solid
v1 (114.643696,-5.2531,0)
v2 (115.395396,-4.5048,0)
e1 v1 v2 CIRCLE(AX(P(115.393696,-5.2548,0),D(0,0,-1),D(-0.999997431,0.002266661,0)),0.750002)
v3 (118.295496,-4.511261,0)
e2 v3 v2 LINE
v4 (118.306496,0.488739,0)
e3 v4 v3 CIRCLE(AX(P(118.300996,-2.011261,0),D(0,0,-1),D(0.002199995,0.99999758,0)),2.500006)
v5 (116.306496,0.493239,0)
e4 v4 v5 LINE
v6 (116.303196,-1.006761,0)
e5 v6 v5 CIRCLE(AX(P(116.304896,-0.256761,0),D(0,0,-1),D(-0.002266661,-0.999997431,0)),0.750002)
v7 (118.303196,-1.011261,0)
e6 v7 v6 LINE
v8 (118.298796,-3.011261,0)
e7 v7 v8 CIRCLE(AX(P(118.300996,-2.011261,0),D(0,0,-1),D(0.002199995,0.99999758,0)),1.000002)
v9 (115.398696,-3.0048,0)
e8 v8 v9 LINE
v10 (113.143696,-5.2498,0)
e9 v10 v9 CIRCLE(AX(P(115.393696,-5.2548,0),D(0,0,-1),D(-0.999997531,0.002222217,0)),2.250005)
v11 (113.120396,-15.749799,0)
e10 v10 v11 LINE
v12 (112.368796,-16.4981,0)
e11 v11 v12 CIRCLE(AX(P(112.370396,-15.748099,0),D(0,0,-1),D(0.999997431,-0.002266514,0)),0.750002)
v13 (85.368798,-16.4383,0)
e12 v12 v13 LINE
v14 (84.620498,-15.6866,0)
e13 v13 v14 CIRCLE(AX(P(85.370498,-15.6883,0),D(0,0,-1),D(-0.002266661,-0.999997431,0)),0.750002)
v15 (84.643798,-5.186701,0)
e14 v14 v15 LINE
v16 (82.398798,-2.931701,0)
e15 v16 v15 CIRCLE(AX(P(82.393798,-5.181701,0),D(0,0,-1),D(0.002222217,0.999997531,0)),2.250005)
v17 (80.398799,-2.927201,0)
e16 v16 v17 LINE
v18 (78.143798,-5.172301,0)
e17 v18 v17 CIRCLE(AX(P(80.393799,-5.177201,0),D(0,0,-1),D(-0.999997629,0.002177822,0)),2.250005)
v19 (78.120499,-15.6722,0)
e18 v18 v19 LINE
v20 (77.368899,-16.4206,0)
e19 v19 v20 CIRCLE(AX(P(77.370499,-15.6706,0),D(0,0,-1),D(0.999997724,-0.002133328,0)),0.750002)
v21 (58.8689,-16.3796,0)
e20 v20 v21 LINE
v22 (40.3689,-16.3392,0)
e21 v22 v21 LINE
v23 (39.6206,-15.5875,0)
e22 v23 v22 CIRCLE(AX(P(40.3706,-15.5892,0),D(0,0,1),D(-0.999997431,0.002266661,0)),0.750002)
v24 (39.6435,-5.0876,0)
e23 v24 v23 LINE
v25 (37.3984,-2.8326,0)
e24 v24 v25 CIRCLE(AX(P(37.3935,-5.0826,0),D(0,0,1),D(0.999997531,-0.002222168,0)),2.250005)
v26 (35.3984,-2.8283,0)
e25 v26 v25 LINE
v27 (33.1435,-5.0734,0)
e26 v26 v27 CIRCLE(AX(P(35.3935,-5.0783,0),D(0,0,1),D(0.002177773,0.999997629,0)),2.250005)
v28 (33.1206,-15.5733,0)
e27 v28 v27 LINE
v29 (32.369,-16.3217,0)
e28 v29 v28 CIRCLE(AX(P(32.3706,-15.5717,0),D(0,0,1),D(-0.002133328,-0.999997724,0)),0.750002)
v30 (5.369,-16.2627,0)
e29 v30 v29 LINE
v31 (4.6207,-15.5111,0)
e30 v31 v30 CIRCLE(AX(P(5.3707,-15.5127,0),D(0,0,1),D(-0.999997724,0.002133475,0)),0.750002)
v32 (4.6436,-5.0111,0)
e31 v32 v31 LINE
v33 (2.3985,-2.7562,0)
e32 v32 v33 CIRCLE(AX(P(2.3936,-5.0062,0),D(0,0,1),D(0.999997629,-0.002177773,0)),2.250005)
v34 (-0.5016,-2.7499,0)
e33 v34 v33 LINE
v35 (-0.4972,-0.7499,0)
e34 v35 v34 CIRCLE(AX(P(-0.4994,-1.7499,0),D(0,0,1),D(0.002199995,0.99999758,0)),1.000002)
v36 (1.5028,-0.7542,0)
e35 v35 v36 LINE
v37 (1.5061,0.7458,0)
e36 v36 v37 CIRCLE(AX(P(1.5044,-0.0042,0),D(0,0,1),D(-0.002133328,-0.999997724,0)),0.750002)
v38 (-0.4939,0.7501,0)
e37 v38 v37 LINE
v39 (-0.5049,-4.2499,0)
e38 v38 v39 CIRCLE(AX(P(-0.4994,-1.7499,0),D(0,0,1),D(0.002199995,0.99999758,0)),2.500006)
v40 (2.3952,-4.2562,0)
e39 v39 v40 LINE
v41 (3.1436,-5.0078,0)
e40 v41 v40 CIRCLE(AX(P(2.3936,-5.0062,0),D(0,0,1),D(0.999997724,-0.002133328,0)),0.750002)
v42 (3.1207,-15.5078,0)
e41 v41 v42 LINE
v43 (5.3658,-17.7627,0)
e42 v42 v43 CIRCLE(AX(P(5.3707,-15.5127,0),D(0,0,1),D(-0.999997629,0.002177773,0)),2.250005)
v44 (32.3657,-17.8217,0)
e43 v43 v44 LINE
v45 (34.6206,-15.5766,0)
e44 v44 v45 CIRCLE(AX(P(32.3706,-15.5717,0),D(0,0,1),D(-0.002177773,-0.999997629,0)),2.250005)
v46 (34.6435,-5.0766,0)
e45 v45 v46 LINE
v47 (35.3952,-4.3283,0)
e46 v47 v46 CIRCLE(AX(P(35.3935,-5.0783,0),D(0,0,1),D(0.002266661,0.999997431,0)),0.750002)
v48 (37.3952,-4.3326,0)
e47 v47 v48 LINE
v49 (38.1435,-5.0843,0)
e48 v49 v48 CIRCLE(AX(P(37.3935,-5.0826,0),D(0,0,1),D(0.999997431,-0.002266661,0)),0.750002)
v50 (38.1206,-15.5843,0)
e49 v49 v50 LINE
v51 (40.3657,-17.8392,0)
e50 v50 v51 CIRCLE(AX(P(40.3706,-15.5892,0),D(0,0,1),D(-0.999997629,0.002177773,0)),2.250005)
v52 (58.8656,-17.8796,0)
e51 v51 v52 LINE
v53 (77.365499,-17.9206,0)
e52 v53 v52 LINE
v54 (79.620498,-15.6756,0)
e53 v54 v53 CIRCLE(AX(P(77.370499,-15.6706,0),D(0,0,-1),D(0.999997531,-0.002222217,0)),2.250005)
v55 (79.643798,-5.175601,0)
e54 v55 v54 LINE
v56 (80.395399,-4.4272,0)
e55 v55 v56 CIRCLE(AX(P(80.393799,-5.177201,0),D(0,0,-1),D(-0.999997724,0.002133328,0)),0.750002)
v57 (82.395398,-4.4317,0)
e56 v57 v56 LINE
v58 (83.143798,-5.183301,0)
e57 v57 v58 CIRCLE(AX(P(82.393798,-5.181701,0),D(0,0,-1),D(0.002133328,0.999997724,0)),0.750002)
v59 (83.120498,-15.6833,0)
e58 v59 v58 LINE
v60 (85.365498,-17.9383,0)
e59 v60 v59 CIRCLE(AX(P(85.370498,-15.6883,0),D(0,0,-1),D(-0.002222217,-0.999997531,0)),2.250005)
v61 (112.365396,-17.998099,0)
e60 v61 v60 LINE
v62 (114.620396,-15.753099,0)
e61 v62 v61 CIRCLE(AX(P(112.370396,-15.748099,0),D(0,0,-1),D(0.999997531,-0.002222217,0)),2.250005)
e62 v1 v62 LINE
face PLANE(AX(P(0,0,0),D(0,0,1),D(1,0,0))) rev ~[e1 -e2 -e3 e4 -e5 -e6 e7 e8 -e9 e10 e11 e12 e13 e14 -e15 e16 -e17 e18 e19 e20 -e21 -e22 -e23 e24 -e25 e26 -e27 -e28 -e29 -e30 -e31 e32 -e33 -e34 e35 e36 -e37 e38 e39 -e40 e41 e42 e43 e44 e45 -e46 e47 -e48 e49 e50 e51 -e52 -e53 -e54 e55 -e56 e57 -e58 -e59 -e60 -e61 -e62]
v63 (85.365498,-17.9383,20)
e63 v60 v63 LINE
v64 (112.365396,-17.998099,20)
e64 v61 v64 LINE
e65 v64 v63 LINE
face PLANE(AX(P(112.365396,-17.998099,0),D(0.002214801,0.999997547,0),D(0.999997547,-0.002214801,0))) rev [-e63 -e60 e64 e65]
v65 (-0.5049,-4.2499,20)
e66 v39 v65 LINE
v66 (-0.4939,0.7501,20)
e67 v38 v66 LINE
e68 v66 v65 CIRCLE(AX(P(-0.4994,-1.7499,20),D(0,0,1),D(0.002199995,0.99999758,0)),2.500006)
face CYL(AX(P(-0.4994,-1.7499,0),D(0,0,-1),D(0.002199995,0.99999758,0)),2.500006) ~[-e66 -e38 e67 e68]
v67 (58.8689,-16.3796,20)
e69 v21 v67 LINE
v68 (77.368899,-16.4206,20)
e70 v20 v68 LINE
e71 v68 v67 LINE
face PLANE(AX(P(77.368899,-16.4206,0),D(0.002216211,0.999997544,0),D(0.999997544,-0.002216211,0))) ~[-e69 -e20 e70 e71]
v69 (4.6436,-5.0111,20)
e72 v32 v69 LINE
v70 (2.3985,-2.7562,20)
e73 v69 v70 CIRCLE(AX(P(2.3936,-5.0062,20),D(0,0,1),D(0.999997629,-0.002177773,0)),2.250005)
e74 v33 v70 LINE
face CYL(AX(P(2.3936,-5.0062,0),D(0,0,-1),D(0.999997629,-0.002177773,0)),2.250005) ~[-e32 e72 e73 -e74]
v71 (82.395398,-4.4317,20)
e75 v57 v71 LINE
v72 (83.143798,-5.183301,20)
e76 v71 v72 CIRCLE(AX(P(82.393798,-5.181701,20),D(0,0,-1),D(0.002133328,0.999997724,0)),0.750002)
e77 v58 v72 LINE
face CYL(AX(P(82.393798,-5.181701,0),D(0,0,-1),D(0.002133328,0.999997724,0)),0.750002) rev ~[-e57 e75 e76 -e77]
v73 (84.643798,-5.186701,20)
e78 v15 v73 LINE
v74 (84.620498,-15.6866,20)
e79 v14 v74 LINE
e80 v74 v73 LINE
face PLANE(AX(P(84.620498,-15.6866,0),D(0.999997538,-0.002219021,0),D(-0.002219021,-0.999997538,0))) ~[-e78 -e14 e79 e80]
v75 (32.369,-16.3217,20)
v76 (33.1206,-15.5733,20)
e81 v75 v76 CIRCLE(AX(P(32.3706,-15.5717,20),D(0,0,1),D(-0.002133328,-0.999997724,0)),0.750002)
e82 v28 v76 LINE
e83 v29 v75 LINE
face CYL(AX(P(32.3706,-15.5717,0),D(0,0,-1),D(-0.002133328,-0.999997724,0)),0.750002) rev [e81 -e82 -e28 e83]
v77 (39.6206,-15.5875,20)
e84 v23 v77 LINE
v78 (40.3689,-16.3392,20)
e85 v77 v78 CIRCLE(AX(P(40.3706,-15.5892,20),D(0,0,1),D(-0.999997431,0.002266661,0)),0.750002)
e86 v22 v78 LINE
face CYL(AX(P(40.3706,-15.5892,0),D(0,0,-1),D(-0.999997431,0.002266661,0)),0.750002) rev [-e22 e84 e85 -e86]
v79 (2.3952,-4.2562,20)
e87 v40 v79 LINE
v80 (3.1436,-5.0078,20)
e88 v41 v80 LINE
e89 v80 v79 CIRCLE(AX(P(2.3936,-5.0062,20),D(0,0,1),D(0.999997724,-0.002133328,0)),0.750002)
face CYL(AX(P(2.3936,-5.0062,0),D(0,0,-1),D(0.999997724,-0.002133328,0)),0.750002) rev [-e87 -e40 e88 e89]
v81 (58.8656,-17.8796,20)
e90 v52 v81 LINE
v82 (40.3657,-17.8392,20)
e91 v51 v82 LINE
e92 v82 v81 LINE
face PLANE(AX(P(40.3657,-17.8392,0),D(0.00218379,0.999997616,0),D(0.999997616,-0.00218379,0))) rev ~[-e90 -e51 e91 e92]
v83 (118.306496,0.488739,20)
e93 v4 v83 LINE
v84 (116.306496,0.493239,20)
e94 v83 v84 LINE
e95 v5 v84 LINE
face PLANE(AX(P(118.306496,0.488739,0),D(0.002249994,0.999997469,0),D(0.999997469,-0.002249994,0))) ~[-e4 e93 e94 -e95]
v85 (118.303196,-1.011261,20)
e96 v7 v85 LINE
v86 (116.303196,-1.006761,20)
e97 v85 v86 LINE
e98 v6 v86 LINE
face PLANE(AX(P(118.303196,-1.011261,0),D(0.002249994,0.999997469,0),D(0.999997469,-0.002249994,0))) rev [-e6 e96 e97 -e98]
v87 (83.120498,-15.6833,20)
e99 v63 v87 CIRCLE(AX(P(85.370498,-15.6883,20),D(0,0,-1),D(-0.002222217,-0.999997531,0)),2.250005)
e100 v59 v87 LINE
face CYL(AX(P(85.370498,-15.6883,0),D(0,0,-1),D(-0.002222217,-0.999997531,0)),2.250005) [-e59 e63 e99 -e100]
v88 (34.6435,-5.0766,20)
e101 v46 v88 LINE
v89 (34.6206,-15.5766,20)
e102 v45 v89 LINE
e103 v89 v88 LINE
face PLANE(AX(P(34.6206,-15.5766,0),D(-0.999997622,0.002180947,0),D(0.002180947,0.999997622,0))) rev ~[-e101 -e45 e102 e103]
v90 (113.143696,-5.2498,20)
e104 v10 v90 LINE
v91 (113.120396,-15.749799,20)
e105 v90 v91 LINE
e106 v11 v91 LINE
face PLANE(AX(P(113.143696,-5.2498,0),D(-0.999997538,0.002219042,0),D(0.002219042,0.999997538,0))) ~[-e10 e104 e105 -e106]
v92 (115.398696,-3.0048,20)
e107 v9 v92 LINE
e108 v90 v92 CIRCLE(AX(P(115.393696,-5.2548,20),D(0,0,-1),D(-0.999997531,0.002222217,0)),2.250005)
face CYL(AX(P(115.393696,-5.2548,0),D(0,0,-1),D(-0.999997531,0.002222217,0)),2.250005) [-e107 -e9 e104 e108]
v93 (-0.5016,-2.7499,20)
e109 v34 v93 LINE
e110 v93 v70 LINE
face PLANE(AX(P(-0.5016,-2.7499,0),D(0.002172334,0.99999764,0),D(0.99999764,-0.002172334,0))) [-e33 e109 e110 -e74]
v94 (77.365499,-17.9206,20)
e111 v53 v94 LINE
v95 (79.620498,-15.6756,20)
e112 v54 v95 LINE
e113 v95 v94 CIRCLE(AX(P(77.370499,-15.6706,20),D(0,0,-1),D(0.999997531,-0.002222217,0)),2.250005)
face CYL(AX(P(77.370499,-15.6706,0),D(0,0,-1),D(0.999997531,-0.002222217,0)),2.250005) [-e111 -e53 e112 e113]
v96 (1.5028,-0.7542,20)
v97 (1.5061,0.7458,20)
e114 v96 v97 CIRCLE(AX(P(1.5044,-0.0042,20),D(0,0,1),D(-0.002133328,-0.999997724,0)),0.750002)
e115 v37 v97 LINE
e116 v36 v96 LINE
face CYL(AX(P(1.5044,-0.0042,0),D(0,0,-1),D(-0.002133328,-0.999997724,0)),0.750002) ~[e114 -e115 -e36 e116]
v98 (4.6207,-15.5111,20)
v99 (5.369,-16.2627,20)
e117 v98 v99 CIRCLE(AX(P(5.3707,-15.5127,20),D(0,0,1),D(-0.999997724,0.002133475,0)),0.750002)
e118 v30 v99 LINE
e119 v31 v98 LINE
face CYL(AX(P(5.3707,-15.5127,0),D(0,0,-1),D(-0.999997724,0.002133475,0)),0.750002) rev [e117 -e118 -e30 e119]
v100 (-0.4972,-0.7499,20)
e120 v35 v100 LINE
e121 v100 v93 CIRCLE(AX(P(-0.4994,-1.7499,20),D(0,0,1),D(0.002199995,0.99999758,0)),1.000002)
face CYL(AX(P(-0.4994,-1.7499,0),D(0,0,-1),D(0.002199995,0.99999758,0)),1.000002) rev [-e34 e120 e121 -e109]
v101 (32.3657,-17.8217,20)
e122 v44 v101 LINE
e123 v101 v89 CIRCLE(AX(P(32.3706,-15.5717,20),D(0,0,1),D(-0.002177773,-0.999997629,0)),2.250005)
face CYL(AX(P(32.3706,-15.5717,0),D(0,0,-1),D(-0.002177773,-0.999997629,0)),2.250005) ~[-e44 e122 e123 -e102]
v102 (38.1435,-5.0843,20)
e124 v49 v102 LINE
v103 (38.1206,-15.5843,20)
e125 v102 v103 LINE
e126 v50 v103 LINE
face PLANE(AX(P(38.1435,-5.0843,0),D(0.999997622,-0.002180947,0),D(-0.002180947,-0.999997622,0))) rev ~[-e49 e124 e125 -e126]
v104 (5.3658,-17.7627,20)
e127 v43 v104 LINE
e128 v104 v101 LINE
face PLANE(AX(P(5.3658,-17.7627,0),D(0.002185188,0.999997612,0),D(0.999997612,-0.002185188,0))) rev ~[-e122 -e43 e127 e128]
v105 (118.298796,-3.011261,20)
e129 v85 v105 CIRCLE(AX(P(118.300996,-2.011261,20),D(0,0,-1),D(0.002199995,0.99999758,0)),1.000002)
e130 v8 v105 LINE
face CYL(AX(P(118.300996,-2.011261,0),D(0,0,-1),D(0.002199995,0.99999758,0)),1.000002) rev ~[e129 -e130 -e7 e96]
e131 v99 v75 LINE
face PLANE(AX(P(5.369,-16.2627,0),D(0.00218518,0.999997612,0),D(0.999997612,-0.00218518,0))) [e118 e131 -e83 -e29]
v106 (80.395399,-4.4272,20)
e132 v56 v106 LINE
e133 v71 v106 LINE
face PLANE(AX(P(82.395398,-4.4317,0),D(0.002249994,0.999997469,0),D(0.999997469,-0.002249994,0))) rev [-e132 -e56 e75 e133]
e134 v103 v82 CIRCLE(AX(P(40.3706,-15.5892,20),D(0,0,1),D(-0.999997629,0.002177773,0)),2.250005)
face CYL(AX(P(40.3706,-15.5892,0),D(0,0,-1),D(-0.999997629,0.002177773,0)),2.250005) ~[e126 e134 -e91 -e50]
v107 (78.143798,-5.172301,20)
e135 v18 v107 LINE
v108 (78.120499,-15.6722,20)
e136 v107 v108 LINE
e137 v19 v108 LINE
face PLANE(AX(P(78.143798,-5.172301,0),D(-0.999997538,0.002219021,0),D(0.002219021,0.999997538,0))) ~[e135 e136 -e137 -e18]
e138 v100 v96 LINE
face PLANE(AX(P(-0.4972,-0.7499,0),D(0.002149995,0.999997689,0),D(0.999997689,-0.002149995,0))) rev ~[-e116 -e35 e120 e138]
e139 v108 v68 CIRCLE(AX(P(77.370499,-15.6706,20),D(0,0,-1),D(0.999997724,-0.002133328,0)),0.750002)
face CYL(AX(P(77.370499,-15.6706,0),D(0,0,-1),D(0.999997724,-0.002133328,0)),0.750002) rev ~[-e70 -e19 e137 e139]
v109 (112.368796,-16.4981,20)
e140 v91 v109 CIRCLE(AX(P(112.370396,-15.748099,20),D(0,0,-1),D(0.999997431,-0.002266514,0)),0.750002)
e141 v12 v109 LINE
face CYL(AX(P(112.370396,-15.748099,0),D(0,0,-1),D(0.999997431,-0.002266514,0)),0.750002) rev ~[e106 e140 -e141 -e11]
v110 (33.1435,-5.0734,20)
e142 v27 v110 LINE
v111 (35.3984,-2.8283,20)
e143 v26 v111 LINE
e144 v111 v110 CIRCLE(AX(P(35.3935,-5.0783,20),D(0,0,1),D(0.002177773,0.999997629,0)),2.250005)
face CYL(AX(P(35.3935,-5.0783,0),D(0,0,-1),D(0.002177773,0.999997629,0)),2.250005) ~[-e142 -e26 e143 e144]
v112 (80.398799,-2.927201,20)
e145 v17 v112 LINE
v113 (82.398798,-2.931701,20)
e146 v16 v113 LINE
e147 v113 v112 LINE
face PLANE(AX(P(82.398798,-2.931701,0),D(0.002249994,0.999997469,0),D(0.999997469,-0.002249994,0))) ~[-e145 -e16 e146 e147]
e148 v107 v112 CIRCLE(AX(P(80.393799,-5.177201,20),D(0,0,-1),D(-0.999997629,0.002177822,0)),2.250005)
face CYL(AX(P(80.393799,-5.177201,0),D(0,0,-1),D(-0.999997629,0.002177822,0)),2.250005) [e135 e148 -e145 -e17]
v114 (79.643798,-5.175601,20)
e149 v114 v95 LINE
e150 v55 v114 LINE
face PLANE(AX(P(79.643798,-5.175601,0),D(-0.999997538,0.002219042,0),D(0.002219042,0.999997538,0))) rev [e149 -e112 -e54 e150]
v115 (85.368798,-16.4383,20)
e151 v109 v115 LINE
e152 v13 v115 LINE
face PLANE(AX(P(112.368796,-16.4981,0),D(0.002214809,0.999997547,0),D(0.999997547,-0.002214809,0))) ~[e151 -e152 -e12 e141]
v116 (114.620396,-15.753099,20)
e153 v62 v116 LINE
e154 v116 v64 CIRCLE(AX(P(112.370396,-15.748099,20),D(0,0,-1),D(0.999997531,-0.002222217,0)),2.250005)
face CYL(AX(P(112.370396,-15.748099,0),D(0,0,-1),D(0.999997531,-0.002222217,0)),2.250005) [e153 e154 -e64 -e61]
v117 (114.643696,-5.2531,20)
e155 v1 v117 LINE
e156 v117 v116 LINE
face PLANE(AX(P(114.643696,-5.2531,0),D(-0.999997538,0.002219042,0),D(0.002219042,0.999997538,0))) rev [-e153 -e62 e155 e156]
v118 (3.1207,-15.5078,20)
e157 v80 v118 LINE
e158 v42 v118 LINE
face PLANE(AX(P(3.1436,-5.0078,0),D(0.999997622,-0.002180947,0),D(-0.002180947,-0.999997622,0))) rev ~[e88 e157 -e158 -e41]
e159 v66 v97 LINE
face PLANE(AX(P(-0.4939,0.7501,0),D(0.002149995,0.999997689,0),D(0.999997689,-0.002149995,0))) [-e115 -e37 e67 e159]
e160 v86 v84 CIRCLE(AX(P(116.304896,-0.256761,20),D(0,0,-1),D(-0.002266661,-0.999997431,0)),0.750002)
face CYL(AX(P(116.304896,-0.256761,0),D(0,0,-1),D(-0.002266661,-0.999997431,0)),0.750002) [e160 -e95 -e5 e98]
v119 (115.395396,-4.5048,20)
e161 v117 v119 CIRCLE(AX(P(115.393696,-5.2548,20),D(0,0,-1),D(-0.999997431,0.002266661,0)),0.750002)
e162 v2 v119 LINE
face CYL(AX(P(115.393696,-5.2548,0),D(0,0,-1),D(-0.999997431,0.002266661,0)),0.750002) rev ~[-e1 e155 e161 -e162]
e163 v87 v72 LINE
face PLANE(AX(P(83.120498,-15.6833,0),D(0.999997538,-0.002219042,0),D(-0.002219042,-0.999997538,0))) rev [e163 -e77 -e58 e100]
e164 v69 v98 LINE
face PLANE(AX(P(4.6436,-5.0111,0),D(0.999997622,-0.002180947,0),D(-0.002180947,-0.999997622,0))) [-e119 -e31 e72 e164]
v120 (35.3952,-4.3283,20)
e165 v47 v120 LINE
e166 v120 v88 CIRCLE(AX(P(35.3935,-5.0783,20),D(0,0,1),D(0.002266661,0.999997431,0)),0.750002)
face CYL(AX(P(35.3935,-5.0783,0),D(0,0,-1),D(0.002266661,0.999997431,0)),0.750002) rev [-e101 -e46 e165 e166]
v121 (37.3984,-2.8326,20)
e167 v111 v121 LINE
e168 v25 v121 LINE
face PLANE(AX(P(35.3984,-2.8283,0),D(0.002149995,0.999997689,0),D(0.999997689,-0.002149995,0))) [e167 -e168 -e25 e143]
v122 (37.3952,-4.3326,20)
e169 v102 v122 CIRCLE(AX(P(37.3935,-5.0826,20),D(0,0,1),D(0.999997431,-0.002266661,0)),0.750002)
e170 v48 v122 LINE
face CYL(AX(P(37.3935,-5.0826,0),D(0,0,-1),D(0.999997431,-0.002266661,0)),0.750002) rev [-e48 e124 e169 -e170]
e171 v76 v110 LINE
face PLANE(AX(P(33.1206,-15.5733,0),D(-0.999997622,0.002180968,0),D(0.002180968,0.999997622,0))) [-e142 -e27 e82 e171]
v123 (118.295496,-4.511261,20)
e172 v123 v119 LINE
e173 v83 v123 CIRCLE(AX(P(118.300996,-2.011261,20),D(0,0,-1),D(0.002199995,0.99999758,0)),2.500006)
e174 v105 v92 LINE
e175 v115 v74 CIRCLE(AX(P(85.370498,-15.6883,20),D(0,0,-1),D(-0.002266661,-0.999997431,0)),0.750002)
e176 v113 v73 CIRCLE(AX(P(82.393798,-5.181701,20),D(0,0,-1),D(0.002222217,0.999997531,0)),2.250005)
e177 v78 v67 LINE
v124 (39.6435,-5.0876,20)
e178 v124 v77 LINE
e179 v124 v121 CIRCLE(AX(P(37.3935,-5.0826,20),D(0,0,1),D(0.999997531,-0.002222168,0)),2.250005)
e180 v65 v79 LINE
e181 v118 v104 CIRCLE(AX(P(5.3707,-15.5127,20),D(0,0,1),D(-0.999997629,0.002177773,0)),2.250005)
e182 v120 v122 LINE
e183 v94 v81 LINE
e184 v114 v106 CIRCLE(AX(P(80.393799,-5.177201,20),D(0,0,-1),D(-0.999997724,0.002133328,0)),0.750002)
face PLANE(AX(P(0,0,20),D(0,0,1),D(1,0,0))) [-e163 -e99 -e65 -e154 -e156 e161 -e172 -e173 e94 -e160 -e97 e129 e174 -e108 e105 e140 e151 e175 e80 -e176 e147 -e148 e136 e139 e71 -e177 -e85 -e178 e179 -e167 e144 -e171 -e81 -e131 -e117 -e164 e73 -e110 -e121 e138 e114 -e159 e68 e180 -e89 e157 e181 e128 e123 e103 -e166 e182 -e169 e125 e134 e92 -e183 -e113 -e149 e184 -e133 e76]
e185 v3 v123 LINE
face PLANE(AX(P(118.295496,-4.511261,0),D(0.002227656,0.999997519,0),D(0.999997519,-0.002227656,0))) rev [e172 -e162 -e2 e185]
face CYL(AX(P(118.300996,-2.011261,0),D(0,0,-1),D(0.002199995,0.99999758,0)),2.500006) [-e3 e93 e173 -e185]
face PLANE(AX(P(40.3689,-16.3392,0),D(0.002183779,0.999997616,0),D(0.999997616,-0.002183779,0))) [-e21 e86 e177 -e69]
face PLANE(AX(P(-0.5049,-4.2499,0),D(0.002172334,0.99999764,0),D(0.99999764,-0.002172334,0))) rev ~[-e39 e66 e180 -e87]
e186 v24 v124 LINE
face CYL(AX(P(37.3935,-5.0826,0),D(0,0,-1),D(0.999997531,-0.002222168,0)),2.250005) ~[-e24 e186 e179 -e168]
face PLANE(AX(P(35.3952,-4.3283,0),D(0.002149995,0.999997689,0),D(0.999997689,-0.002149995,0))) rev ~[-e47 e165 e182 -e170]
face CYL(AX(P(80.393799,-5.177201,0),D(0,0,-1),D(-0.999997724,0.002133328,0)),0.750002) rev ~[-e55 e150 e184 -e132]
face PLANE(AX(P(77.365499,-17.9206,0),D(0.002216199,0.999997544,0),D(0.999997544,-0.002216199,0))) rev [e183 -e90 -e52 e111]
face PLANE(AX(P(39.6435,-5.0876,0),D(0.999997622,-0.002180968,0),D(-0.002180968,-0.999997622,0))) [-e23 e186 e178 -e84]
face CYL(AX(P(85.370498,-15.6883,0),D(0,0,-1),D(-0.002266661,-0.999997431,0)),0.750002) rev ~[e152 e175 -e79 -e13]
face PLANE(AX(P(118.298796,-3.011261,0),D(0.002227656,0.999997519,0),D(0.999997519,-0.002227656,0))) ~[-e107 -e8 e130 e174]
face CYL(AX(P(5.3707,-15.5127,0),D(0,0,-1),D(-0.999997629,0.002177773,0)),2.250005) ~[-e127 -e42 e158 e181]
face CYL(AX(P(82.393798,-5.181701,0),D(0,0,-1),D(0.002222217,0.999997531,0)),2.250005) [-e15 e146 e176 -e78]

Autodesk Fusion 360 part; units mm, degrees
sketch "Sketch1" plane through (0, 0, 0) normal (0, 0, 1) x (1, 0, 0)
  line L0 (-0.5032, -3.4999) -> (2.3969, -3.5062) construction
  line L1 (3.8936, -5.0095) -> (3.8707, -15.5094) construction
  line L2 (5.3674, -17.0127) -> (32.3673, -17.0717) construction
  line L3 (33.8706, -15.575) -> (33.8935, -5.075) construction
  line L4 (35.3968, -3.5783) -> (37.3968, -3.5826) construction
  line L5 (38.8935, -5.0859) -> (38.8706, -15.5859) construction
  line L6 (40.3673, -17.0892) -> (58.8673, -17.1296) construction
  arc A0 (3.8707, -15.5094) -> (5.3674, -17.0127) centre (5.3707, -15.5127) ccw construction
  arc A1 (3.8936, -5.0095) -> (2.3969, -3.5062) centre (2.3936, -5.0062) ccw construction
  arc A2 (32.3673, -17.0717) -> (33.8706, -15.575) centre (32.3706, -15.5717) ccw construction
  arc A3 (35.3968, -3.5783) -> (33.8935, -5.075) centre (35.3935, -5.0783) ccw construction
  arc A4 (38.8935, -5.0859) -> (37.3968, -3.5826) centre (37.3935, -5.0826) ccw construction
  arc A5 (38.8706, -15.5859) -> (40.3673, -17.0892) centre (40.3706, -15.5892) ccw construction
  arc A6 (4.6436, -5.0111) -> (2.3985, -2.7562) centre (2.3936, -5.0062) ccw
  line L7 (-0.5049, -4.2499) -> (2.3952, -4.2562)
  line L8 (-0.5016, -2.7499) -> (2.3985, -2.7562)
  arc A7 (3.1436, -5.0078) -> (2.3952, -4.2562) centre (2.3936, -5.0062) ccw
  line L9 (3.1436, -5.0078) -> (3.1207, -15.5078)
  arc A8 (3.1207, -15.5078) -> (5.3658, -17.7627) centre (5.3707, -15.5127) ccw
  line L10 (5.3658, -17.7627) -> (32.3657, -17.8217)
  line L11 (4.6436, -5.0111) -> (4.6207, -15.5111)
  arc A9 (4.6207, -15.5111) -> (5.369, -16.2627) centre (5.3707, -15.5127) ccw
  line L12 (5.369, -16.2627) -> (32.369, -16.3217)
  arc A10 (32.369, -16.3217) -> (33.1206, -15.5733) centre (32.3706, -15.5717) ccw
  line L13 (33.1206, -15.5733) -> (33.1435, -5.0734)
  arc A11 (35.3984, -2.8283) -> (33.1435, -5.0734) centre (35.3935, -5.0783) ccw
  line L14 (35.3984, -2.8283) -> (37.3984, -2.8326)
  arc A12 (39.6435, -5.0876) -> (37.3984, -2.8326) centre (37.3935, -5.0826) ccw
  line L15 (39.6435, -5.0876) -> (39.6206, -15.5875)
  arc A13 (39.6206, -15.5875) -> (40.3689, -16.3392) centre (40.3706, -15.5892) ccw
  line L16 (40.3689, -16.3392) -> (58.8689, -16.3796)
  arc A14 (32.3657, -17.8217) -> (34.6206, -15.5766) centre (32.3706, -15.5717) ccw
  line L17 (34.6206, -15.5766) -> (34.6435, -5.0766)
  arc A15 (35.3952, -4.3283) -> (34.6435, -5.0766) centre (35.3935, -5.0783) ccw
  line L18 (35.3952, -4.3283) -> (37.3952, -4.3326)
  arc A16 (38.1435, -5.0843) -> (37.3952, -4.3326) centre (37.3935, -5.0826) ccw
  line L19 (38.1435, -5.0843) -> (38.1206, -15.5843)
  arc A17 (38.1206, -15.5843) -> (40.3657, -17.8392) centre (40.3706, -15.5892) ccw
  line L20 (40.3657, -17.8392) -> (58.8656, -17.8796)
  line L21 (58.8689, -16.3796) -> (58.8656, -17.8796)
  line L22 (-0.5016, -2.7499) -> (-0.4994, -1.7499) construction
  line L23 (-0.5049, -4.2499) -> (-0.4939, 0.7501) construction
  arc A18 (-0.4972, -0.7499) -> (-0.5016, -2.7499) centre (-0.4994, -1.7499) ccw
  arc A19 (-0.4939, 0.7501) -> (-0.5049, -4.2499) centre (-0.4994, -1.7499) ccw
  line L24 (-0.4972, -0.7499) -> (1.5028, -0.7542)
  line L25 (-0.4939, 0.7501) -> (1.5061, 0.7458)
  arc A20 (1.5028, -0.7542) -> (1.5061, 0.7458) centre (1.5044, -0.0042) ccw
  point P0 (3.8969, -3.5095)
  point P1 (3.8674, -17.0094)
  point P2 (33.8673, -17.075)
  point P3 (33.8968, -3.575)
  point P4 (38.8968, -3.5859)
  point P5 (38.8673, -17.0859)
  dimension "d34" = 30
  dimension "d35" = 13.5
  dimension "d36" = 5
  dimension "d37" = 13.5
  dimension "d38" = 20
  dimension "d39" = 1.5
  dimension "d40" = 1.5
  dimension "d41" = 1.5
  dimension "d42" = 1.5
  dimension "d43" = 1.5
  dimension "d44" = 1.5
  dimension "d49" = 0.75
  dimension "d52" = 0.75
  dimension "d53" = -0.75
  dimension "d54" = -0.75
  dimension "d55" = 0.75
  dimension "d56" = -0.75
  dimension "d57" = 0.75
  dimension "d58" = 0.75
  dimension "d59" = 1
  dimension "d60" = 2
  dimension "d62" = 5
  dimension "d67" = 2
  dimension "d68" = 2
extrude "Extrude1" add sketch "Sketch1" along normal blind 20
mirror "Mirror1" about plane through (58.8689, -16.3796, 0) normal (1, -0.0022, 0) of bodies 1 merged
equation "i1 = 2 mm"
equation "i2 = 5 mm"
equation "i3 = 30 mm"
equation "d34 = i3"
equation "d35 = h - t"
equation "d36 = i2"
equation "d37 = h - t"
equation "d38 = i / 2 - 2 * i2 - i3"
equation "d39 = Radial Dimension-2"
equation "d40 = Radial Dimension-3"
equation "d41 = Radial Dimension-4"
equation "d42 = Radial Dimension-5"
equation "d43 = Radial Dimension-6"
equation "d44 = Radial Dimension-7"
equation "d49 = t / 2"
equation "d52 = t / 2"
equation "d53 = -t / 2"
equation "d54 = -t / 2"
equation "d55 = t / 2"
equation "d56 = -t / 2"
equation "d57 = t / 2"
equation "d58 = t / 2"
equation "d67 = i1"
equation "d68 = i1"
